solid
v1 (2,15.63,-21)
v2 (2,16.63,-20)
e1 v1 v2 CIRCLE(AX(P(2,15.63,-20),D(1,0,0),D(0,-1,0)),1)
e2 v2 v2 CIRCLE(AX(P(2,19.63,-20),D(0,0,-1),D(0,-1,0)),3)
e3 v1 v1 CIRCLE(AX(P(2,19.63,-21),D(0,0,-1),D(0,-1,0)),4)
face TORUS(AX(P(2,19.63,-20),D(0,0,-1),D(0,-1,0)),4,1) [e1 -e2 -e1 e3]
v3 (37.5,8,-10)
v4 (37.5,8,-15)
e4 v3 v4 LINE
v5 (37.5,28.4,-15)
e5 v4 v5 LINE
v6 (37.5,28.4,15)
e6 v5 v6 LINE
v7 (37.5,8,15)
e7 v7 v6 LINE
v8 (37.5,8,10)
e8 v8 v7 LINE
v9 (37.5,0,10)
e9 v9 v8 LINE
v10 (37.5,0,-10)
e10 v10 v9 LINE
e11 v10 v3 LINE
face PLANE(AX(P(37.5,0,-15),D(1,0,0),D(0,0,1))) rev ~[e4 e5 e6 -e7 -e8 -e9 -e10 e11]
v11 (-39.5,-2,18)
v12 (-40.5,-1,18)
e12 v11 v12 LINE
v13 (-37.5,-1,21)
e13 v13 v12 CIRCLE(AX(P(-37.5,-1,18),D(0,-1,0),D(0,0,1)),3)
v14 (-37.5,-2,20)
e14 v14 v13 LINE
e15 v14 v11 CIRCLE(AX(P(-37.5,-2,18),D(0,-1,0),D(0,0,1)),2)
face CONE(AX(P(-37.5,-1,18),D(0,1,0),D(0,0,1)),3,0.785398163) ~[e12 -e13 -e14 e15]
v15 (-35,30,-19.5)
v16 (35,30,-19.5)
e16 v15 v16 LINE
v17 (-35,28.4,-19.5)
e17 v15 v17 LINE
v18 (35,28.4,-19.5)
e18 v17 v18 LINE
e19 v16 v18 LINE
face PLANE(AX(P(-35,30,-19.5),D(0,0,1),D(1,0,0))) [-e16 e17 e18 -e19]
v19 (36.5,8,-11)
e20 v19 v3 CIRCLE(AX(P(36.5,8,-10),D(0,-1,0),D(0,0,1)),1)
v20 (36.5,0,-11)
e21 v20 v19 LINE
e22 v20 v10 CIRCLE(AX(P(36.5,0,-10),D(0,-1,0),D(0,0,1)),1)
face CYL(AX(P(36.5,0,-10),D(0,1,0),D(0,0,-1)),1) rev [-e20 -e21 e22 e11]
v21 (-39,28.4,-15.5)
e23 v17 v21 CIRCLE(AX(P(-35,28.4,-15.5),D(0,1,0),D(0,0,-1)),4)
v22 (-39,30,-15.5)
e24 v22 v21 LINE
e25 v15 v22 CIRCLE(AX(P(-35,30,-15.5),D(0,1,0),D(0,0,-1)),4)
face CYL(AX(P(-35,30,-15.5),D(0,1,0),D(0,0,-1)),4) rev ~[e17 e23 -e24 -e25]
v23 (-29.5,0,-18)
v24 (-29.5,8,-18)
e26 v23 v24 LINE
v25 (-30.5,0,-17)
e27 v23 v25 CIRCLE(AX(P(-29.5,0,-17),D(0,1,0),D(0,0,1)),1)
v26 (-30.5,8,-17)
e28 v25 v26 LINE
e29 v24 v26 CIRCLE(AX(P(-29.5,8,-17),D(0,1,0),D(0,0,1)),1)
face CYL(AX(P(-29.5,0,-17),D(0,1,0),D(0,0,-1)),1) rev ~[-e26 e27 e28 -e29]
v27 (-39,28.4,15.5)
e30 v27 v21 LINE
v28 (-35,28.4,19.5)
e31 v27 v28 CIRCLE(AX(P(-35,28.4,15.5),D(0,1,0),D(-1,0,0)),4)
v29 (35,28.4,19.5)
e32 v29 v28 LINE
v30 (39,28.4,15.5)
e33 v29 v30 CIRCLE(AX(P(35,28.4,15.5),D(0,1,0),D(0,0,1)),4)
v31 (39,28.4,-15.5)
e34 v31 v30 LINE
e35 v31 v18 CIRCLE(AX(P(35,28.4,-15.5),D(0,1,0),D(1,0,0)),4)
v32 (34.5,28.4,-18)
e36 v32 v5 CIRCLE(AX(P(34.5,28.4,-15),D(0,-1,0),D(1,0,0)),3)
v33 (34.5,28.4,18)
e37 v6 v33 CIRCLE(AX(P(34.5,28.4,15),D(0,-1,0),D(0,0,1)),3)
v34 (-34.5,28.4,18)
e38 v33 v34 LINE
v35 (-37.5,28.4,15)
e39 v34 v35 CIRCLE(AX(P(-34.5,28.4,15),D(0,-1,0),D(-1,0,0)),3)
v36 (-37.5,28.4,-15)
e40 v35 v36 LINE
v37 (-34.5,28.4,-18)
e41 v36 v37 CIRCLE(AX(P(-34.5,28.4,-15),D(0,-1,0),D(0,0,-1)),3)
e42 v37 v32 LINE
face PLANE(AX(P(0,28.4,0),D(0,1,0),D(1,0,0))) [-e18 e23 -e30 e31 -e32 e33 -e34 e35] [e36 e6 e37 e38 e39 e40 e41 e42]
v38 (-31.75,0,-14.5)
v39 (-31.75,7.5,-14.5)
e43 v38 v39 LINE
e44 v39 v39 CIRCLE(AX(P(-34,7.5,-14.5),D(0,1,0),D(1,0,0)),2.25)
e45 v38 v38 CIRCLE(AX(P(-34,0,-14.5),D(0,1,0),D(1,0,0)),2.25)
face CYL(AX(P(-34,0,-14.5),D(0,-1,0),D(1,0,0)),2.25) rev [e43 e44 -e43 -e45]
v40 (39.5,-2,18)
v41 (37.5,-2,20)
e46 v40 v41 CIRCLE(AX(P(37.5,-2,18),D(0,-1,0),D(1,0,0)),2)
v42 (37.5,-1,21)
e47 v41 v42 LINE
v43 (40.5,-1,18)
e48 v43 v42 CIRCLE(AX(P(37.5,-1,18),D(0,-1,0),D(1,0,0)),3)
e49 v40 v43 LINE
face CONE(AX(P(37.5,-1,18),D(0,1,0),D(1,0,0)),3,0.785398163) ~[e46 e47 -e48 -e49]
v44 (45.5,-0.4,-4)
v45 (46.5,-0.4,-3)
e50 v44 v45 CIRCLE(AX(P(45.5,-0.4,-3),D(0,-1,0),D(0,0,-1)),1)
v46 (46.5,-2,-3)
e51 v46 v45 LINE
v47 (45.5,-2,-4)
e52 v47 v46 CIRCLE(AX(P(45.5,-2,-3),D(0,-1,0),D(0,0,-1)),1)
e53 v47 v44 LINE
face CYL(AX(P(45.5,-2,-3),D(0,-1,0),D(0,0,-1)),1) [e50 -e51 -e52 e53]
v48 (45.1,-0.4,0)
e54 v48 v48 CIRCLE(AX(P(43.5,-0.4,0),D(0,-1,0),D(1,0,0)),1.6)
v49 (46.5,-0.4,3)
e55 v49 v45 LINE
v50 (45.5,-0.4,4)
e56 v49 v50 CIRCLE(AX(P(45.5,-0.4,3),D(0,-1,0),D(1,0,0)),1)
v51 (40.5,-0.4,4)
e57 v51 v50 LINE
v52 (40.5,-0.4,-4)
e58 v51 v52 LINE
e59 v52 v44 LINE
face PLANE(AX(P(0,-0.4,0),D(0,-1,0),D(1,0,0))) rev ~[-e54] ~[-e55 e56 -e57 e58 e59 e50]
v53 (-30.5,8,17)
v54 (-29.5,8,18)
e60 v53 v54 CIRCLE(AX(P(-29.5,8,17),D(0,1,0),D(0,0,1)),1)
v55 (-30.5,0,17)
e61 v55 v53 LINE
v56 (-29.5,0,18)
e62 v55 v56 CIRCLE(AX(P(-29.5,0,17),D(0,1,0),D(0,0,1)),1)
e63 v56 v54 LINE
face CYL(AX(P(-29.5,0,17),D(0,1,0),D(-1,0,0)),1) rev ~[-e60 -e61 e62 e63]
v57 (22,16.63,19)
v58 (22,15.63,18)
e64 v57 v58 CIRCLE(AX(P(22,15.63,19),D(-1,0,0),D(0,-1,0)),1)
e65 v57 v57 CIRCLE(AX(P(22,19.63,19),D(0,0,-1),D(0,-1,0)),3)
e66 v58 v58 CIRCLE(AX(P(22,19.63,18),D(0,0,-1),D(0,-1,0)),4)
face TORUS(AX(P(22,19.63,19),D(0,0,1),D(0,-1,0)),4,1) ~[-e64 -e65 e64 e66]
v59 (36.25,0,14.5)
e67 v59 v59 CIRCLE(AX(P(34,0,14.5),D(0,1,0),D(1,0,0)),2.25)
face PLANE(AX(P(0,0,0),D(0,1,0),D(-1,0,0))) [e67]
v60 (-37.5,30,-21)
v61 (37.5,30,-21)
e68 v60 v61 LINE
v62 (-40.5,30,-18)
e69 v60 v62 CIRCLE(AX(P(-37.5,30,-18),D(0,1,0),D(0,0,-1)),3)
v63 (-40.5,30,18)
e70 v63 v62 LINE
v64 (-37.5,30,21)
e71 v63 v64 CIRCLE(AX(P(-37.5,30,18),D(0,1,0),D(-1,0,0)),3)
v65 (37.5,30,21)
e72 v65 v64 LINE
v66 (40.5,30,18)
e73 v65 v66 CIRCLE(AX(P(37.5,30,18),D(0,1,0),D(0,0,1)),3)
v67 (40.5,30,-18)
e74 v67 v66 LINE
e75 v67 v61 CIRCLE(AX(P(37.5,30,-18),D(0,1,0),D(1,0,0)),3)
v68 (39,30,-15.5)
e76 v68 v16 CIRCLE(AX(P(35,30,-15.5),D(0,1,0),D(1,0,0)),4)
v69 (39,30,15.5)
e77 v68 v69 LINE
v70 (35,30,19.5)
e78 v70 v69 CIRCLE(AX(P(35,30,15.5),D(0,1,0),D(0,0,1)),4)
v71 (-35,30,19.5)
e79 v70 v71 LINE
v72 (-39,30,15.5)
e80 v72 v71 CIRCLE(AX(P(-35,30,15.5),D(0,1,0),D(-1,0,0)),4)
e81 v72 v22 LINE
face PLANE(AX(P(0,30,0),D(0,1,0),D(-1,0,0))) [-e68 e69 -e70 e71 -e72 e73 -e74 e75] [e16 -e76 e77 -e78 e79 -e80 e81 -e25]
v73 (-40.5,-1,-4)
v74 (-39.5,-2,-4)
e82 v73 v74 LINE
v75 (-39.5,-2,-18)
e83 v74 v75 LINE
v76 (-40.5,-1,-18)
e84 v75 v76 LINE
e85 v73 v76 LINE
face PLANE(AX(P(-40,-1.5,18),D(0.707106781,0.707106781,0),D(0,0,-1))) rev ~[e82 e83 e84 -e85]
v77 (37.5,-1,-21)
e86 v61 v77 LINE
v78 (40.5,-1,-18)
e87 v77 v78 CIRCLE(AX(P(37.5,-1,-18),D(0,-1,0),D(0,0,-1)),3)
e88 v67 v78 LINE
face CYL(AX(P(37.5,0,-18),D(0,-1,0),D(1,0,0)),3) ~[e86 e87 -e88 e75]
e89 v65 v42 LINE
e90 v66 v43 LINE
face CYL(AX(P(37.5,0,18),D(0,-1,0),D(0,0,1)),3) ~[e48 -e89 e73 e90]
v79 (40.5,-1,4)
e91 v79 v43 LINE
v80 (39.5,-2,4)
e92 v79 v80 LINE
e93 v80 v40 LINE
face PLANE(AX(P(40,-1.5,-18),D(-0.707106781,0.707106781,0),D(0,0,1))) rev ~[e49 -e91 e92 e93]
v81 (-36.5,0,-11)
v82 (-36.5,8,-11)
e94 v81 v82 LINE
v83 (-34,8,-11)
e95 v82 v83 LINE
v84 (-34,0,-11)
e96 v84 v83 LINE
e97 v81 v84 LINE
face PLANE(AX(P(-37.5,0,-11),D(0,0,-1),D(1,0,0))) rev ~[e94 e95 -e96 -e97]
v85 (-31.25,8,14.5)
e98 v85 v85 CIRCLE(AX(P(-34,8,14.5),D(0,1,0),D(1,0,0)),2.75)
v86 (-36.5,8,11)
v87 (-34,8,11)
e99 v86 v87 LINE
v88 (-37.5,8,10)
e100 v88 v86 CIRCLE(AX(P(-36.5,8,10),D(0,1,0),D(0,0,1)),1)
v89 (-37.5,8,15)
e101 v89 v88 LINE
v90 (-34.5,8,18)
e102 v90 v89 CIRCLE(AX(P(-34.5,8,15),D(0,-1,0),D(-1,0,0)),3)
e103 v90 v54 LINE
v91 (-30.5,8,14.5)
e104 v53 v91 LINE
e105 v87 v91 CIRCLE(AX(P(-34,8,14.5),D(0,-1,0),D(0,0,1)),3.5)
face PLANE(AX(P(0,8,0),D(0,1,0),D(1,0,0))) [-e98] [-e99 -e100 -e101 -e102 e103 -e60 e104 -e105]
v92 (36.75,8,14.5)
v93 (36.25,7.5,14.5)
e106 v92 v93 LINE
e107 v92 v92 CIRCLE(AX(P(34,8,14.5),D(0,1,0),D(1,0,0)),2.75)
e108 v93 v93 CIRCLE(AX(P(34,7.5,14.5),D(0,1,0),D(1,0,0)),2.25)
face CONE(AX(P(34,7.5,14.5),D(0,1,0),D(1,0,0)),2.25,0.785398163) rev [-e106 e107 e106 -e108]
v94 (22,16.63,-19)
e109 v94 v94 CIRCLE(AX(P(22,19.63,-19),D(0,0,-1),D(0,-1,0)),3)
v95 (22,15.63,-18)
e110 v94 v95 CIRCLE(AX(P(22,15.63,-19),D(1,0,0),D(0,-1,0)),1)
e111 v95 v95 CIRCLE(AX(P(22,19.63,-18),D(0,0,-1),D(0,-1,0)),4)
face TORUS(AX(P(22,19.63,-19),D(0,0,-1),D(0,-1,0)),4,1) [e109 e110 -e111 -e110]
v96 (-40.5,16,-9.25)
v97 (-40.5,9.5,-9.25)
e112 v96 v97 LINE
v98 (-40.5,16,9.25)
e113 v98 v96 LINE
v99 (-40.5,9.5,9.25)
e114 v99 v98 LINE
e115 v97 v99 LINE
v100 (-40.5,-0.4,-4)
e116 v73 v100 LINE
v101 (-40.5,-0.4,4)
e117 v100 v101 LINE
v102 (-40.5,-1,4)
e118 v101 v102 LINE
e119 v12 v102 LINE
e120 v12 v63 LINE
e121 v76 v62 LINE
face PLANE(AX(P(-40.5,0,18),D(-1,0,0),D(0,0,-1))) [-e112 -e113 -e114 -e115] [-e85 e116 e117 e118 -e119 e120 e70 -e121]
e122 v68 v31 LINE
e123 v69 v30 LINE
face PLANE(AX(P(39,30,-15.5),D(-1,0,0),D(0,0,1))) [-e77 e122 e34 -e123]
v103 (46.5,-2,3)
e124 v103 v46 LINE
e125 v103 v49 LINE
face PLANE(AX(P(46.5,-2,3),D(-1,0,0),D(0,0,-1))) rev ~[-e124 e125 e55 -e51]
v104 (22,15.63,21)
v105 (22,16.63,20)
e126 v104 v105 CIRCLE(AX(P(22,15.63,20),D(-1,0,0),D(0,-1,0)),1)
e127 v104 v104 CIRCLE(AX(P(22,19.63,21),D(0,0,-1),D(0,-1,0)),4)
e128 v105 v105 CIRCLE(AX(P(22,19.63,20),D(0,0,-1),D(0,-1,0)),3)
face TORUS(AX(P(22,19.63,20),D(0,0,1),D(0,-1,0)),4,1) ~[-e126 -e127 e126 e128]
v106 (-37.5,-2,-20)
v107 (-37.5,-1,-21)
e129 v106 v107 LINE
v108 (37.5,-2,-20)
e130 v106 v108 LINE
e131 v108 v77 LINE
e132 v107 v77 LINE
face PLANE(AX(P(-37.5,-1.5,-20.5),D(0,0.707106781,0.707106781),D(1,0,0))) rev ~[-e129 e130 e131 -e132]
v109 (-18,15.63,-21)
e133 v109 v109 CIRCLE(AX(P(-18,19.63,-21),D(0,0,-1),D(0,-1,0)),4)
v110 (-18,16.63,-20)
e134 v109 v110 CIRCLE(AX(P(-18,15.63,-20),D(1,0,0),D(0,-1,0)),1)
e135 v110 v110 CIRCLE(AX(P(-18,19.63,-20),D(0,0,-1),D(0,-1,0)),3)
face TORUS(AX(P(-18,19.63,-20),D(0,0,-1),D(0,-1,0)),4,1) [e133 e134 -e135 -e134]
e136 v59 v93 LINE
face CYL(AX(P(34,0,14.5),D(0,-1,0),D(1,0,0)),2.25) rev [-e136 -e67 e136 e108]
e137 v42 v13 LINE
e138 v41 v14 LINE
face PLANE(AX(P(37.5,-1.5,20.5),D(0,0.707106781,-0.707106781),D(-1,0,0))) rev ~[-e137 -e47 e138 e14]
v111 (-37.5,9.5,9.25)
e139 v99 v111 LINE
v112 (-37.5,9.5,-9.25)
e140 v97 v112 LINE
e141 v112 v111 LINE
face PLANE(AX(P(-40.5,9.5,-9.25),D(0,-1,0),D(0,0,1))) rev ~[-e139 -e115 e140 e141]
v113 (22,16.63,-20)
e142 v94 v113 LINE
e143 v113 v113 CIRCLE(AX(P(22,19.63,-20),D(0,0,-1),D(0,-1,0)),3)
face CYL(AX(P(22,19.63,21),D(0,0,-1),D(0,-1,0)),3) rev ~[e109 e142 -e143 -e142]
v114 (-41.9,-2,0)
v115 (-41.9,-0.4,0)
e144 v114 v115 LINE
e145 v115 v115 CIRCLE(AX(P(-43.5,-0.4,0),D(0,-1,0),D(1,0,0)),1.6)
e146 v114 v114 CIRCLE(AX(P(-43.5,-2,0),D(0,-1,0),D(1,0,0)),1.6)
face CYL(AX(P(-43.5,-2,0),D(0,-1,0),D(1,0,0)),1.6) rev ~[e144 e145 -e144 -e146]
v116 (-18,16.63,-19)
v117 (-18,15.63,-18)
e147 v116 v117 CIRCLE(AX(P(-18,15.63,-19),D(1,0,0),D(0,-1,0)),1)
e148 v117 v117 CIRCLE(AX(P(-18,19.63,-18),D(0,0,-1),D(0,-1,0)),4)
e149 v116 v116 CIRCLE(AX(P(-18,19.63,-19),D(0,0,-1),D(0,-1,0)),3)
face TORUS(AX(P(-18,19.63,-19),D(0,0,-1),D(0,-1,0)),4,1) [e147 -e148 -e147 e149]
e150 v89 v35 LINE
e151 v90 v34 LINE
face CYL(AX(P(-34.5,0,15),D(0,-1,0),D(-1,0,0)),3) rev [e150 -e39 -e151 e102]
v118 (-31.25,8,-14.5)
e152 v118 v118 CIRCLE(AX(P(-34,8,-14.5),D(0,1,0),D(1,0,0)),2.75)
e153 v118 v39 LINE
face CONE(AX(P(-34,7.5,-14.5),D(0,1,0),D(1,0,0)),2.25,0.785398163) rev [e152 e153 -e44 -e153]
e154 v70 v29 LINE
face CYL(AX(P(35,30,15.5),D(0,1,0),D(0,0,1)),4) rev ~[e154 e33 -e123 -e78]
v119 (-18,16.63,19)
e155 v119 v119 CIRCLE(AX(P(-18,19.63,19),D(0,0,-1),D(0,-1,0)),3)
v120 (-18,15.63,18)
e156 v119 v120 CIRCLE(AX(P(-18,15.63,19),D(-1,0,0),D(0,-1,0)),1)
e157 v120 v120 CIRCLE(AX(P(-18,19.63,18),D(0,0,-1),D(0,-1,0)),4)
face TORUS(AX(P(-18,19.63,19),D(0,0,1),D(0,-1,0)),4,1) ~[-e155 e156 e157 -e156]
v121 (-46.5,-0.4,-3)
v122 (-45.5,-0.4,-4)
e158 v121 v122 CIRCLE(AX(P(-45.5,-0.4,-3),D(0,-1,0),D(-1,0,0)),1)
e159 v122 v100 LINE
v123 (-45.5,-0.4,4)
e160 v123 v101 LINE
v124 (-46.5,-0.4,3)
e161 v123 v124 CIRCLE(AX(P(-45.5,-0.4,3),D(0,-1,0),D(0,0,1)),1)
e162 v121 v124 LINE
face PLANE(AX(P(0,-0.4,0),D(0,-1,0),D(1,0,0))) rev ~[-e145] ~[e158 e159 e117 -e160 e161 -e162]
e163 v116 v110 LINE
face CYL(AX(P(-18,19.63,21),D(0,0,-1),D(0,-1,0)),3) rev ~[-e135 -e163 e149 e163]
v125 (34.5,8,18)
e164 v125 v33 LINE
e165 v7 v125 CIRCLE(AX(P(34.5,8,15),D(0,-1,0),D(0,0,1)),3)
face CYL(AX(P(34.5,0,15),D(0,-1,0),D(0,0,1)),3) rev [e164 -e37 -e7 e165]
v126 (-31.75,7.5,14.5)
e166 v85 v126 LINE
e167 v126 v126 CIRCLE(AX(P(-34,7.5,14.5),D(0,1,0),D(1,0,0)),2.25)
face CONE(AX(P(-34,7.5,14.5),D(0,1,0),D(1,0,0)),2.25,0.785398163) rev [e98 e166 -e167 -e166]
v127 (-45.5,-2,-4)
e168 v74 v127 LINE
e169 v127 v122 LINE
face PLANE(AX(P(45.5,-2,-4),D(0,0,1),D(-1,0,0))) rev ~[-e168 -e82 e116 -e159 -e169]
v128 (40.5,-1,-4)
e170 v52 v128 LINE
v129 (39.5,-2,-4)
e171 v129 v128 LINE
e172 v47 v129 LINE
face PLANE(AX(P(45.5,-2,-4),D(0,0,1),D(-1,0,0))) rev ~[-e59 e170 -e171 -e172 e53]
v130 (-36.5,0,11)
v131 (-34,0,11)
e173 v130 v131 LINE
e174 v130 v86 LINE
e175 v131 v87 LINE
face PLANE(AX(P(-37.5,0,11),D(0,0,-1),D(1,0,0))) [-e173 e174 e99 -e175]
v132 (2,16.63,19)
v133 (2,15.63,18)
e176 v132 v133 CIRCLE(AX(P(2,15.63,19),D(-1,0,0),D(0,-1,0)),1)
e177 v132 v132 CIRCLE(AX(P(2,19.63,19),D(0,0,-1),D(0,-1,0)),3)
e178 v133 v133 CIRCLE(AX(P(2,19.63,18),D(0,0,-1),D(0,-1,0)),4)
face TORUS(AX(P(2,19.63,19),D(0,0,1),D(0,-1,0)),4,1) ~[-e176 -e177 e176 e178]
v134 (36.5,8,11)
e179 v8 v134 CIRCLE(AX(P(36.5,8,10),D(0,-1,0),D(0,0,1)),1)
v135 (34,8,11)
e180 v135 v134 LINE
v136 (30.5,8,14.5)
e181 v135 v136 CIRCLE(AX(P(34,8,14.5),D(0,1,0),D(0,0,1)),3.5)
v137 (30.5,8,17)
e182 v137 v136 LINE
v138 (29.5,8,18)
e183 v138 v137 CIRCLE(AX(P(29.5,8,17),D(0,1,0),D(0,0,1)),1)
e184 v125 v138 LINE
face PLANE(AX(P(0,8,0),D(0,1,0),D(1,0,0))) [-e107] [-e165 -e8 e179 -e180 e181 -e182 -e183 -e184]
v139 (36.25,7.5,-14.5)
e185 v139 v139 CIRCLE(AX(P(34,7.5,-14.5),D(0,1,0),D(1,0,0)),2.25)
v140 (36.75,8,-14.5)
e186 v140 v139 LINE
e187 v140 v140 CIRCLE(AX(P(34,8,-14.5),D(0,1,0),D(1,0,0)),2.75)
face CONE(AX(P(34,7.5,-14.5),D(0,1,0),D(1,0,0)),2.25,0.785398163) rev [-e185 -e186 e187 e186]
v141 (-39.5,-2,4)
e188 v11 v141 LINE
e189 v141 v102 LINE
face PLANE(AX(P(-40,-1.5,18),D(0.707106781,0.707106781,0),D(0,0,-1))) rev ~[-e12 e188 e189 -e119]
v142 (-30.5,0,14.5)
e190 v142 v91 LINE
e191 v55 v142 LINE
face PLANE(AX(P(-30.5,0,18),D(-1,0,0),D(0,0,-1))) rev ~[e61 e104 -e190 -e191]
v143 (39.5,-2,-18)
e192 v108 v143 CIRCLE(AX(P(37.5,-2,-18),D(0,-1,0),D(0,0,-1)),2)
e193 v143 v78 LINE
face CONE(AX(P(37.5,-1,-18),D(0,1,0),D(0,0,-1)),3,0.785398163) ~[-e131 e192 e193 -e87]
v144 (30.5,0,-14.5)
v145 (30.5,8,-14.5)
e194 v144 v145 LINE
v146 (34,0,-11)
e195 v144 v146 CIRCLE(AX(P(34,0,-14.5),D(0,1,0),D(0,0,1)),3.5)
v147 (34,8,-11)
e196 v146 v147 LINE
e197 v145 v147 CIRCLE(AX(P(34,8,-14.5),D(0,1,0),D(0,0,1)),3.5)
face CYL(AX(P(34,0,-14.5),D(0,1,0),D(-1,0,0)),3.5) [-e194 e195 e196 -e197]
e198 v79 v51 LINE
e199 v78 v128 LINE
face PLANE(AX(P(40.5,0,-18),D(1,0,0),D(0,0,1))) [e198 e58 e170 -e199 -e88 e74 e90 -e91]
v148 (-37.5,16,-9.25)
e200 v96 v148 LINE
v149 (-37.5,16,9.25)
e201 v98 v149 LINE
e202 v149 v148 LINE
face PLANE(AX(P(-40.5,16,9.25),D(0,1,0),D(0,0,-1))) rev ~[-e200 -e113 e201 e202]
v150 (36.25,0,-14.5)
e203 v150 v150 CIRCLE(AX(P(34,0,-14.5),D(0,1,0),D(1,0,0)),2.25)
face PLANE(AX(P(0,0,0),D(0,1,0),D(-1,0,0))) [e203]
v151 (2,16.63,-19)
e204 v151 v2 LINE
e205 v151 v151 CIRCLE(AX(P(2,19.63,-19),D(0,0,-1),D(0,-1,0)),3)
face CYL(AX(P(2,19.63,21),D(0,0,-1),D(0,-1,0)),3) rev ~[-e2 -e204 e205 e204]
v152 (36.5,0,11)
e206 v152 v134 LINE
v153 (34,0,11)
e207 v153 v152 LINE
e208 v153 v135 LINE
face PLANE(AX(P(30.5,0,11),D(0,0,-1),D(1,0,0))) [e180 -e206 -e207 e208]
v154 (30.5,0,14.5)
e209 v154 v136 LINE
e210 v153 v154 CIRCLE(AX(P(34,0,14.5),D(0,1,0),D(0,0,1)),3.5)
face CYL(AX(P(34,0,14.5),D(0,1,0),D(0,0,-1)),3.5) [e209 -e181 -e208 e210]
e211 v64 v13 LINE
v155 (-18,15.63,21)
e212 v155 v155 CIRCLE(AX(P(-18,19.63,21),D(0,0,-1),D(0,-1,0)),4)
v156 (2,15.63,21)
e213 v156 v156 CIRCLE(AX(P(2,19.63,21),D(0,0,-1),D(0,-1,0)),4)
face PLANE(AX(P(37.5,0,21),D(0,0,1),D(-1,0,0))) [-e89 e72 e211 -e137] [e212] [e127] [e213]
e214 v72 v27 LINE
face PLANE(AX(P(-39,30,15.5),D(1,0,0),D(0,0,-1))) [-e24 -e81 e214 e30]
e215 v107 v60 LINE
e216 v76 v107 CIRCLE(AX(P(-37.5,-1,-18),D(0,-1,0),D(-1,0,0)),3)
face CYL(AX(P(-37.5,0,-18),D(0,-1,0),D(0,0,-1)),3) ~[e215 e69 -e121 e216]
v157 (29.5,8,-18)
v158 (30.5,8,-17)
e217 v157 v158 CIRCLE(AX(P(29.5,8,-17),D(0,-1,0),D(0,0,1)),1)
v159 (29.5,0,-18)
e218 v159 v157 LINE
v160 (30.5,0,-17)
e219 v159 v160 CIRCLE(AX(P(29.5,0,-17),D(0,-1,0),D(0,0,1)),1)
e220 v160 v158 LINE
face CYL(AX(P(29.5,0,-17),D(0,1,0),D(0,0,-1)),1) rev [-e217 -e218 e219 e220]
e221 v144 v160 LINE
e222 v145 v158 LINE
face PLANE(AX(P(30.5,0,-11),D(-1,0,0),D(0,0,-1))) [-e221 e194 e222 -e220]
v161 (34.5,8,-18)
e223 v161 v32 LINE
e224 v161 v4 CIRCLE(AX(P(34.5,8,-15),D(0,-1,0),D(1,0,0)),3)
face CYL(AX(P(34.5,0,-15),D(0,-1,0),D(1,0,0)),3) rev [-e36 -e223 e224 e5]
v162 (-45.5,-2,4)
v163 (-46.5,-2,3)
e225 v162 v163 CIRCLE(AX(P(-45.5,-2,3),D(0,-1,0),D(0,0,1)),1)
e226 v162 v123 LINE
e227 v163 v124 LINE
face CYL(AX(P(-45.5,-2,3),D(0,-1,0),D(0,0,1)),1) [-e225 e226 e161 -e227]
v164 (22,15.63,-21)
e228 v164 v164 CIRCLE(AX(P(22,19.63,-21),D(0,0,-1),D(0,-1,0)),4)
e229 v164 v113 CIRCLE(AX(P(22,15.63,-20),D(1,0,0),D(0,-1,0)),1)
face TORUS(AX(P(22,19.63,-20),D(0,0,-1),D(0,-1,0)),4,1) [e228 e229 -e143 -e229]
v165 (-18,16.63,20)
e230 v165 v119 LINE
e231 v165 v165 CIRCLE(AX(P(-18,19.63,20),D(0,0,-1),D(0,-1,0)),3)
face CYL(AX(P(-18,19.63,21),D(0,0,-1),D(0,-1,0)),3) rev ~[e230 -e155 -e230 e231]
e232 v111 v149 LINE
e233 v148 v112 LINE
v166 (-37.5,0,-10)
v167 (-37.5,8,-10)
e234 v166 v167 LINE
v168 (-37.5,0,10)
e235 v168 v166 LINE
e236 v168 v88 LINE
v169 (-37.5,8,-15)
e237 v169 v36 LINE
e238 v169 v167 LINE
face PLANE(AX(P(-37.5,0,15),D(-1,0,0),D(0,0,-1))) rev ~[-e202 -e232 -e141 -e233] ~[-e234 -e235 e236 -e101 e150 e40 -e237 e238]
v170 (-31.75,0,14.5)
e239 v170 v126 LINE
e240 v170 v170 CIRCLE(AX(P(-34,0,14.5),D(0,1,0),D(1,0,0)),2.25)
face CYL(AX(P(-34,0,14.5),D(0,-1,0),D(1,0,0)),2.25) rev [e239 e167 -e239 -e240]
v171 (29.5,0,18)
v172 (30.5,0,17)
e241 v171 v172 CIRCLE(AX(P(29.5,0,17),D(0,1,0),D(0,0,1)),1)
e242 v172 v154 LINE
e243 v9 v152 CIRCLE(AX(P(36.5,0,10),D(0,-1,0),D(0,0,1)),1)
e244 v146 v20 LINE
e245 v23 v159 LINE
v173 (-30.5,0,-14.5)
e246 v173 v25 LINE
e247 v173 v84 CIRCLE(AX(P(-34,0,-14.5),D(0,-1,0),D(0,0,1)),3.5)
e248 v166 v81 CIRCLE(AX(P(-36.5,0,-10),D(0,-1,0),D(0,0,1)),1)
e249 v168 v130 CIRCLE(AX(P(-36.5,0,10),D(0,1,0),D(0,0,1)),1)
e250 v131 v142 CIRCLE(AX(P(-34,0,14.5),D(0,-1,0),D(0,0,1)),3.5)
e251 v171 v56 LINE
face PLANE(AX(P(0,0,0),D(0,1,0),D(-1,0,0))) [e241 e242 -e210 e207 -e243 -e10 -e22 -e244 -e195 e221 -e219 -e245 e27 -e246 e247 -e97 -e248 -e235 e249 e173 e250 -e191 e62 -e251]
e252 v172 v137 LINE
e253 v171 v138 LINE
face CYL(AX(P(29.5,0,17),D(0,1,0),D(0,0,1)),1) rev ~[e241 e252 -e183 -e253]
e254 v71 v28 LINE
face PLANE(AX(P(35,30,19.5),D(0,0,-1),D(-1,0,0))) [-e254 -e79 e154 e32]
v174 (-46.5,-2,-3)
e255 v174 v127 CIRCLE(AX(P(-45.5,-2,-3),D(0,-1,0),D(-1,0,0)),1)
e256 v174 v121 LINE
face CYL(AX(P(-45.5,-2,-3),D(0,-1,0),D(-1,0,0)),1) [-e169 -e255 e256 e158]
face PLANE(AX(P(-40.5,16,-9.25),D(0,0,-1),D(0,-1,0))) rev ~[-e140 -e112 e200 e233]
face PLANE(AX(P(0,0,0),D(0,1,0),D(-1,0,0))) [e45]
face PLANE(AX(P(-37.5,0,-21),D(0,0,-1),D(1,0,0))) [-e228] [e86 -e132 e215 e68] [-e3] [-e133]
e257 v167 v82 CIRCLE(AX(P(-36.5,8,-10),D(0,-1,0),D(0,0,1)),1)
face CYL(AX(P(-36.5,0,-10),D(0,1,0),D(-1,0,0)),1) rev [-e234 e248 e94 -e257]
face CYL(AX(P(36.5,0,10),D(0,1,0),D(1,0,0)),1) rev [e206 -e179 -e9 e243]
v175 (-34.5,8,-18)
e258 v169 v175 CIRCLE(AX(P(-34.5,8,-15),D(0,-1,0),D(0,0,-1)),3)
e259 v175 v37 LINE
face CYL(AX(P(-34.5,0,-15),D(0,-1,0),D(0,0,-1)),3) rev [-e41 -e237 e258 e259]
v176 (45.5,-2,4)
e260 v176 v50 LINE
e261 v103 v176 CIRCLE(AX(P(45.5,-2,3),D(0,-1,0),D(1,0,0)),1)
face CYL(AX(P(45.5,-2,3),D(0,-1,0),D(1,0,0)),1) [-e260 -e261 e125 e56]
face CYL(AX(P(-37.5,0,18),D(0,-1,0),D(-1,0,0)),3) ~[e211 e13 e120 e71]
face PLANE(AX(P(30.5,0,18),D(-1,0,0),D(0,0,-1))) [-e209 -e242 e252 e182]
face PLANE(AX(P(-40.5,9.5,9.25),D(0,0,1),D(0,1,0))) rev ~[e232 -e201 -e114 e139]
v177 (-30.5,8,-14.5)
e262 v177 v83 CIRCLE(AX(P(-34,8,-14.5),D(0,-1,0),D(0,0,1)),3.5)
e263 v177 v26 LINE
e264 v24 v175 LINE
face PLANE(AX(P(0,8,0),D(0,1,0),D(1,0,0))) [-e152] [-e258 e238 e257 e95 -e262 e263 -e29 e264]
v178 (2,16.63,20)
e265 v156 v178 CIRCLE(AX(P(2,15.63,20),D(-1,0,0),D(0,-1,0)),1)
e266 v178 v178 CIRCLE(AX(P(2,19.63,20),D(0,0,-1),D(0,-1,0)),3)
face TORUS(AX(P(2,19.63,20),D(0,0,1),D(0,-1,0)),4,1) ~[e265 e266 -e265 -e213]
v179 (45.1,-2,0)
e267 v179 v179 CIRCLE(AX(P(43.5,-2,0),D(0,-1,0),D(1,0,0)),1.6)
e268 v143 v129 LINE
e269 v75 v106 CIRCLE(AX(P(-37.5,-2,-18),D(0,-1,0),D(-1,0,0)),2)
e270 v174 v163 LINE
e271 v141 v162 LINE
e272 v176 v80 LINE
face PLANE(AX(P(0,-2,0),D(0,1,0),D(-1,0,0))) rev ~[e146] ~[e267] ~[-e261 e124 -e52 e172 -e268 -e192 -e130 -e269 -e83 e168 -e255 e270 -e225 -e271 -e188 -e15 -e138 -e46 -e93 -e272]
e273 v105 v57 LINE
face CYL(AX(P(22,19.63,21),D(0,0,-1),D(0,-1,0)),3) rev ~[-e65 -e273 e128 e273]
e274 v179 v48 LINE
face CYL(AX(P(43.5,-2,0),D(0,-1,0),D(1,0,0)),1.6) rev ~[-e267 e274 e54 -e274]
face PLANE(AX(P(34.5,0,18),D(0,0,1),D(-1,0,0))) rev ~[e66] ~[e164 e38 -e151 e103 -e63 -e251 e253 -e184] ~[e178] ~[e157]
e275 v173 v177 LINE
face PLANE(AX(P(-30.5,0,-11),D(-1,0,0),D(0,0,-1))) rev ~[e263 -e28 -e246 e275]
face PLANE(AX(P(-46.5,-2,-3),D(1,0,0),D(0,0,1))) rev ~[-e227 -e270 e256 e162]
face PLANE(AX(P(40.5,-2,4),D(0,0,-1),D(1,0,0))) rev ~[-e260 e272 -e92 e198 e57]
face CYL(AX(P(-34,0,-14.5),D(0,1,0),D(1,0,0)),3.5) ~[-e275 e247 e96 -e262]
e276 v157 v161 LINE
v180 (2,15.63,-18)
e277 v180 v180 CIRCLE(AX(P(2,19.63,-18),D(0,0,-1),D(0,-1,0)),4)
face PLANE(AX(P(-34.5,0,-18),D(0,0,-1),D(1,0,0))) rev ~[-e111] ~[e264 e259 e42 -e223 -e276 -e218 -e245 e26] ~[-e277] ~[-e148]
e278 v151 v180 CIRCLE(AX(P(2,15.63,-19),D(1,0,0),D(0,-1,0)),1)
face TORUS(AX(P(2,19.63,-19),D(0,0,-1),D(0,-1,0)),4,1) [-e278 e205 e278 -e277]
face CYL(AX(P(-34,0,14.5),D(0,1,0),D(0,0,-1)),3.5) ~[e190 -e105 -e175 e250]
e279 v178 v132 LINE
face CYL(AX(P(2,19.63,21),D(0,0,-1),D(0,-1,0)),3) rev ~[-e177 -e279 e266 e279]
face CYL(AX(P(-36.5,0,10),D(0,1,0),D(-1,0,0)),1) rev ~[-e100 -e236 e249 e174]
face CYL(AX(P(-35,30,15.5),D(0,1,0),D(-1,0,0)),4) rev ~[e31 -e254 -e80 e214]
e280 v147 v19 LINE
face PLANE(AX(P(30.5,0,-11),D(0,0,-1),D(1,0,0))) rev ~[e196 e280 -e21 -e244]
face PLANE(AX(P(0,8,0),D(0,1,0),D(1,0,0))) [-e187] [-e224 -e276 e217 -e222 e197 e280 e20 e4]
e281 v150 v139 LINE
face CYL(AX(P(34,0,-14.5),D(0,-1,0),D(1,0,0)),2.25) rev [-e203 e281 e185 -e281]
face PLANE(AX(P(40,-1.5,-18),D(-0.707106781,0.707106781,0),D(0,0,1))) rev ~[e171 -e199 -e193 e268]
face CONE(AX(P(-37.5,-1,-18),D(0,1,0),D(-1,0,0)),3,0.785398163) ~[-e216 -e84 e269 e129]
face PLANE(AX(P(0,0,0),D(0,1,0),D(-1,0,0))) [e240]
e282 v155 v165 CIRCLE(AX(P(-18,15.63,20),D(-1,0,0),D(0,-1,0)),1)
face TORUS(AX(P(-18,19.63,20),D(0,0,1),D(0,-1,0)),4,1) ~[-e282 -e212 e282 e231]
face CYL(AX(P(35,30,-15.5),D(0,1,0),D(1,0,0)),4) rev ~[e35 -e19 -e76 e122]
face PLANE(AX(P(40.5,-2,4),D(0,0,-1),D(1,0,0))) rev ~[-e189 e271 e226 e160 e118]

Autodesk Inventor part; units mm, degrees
ref_plane "YZ Plane" through (0, 0, 0) normal (1, 0, 0) x (0, 1, 0)
ref_plane "XZ Plane" through (0, 0, 0) normal (0, 1, 0) x (-1, 0, 0)
ref_plane "XY Plane" through (0, 0, 0) normal (0, 0, 1) x (1, 0, 0)
sketch "Sketch1" plane through (0, 0, 0) normal (0, 1, 0) x (-1, 0, 0)
  line L0 (34.5, -18) -> (-34.5, -18)
  line L1 (-37.5, -15) -> (-37.5, 15)
  line L2 (-34.5, 18) -> (34.5, 18)
  line L3 (37.5, 15) -> (37.5, -15)
  line L4 (37.5, -21) -> (-37.5, -21)
  line L5 (-40.5, -18) -> (-40.5, 18)
  line L6 (-37.5, 21) -> (37.5, 21)
  line L7 (40.5, 18) -> (40.5, -18)
  arc A0 (37.5, -21) -> (40.5, -18) centre (37.5, -18) ccw
  arc A1 (34.5, -18) -> (37.5, -15) centre (34.5, -15) ccw
  arc A2 (40.5, 18) -> (37.5, 21) centre (37.5, 18) ccw
  arc A3 (37.5, 15) -> (34.5, 18) centre (34.5, 15) ccw
  arc A4 (-34.5, 18) -> (-37.5, 15) centre (-34.5, 15) ccw
  arc A5 (-37.5, 21) -> (-40.5, 18) centre (-37.5, 18) ccw
  arc A6 (-40.5, -18) -> (-37.5, -21) centre (-37.5, -18) ccw
  arc A7 (-37.5, -15) -> (-34.5, -18) centre (-34.5, -15) ccw
  point P0 (0, 0)
  point P1 (-37.5, -18)
  point P2 (37.5, 18)
  point P3 (37.5, 0)
  point P4 (40.5, 0)
  dimension "d0" = 75
  dimension "d1" = 36
  dimension "d2" = 3
  dimension "d3" = 3
  dimension "d4" = 3
  dimension "d5" = 3
  dimension "d6" = 3
  dimension "d23" = 18
  dimension "d24" = 37.5
extrude "Extrusion1" add sketch "Sketch1" along normal blind 30
extrude "Extrusion2" add sketch "Sketch1" against normal blind 2 contours L0 A7 L1 A4 L2 A3 L3 A1 | L4 A6 L5 A5 L6 A2 L7 A0
sketch "Sketch2" plane through (0, 0, 0) normal (0, 1, 0) x (1, 0, 0)
  circle A0 centre (-34, 14.5) radius 2.25
  line L0 (-37.5, -15) -> (-37.5, 15) projected
  line L1 (-34.5, 18) -> (34.5, 18) projected
  line L2 (-37.5, 18) -> (-30.5, 18)
  line L3 (-37.5, 11) -> (-37.5, 18)
  line L4 (-37.5, 11) -> (-30.5, 11)
  line L5 (-30.5, 11) -> (-30.5, 18)
  circle A1 centre (34, 14.5) radius 2.25
  line L6 (37.5, 11) -> (37.5, 18)
  line L7 (30.5, 11) -> (37.5, 11)
  line L8 (30.5, 11) -> (30.5, 18)
  line L9 (30.5, 18) -> (37.5, 18)
  circle A2 centre (-34, -14.5) radius 2.25
  line L10 (-30.5, -18) -> (-30.5, -11)
  line L11 (-37.5, -18) -> (-30.5, -18)
  line L12 (-37.5, -18) -> (-37.5, -11)
  line L13 (-37.5, -11) -> (-30.5, -11)
  circle A3 centre (34, -14.5) radius 2.25
  line L14 (37.5, -18) -> (37.5, -11)
  line L15 (30.5, -18) -> (37.5, -18)
  line L16 (30.5, -18) -> (30.5, -11)
  line L17 (30.5, -11) -> (37.5, -11)
  point P0 (0, 0)
  dimension "d11" = 4.5
  dimension "d12" = 3.5
  dimension "d13" = 3.5
  dimension "d14" = 7
  dimension "d15" = 7
  dimension "d27" = 68
  dimension "d30" = 29
extrude "Extrusion3" add sketch "Sketch2" along normal blind 8
chamfer "Chamfer1" distance 0.5 angle 45 4 edges at (-36.25, 8, -14.5) (31.75, 8, -14.5) (31.75, 8, 14.5) (-36.25, 8, 14.5)
fillet "Fillet2" radius 3.5 4 edges at (-30.5, 4, -11) (-30.5, 4, 11) (30.5, 4, -11) (30.5, 4, 11)
fillet "Fillet2" radius 1 8 edges at (37.5, 4, -11) (30.5, 4, -18) (-37.5, 4, -11) (-30.5, 4, -18) (-30.5, 4, 18) (-37.5, 4, 11) (30.5, 4, 18) (37.5, 4, 11)
sketch "Sketch3" plane through (-40.5, 30, -18) normal (-1, 0, 0) x (0, 0, 1)
  line L0 (8.75, -20.5) -> (27.25, -20.5)
  line L1 (27.25, -20.5) -> (27.25, -14)
  line L2 (27.25, -14) -> (8.75, -14)
  line L3 (8.75, -14) -> (8.75, -20.5)
  line L4 (-3, -32) -> (-3, 0) projected
  line L5 (8, -22) -> (3, -22) projected
  point P0 (18, -30)
  dimension "d35" = 18.5
  dimension "d36" = 6.5
  dimension "d37" = 11.75
  dimension "d38" = 1.5
extrude "Extrusion4" cut sketch "Sketch3" against normal blind 8
sketch "Sketch4" plane through (0, 30, 0) normal (0, 1, 0) x (1, 0, 0)
  line L0 (-35, 19.5) -> (35, 19.5)
  line L1 (39, 15.5) -> (39, -15.5)
  line L2 (35, -19.5) -> (-35, -19.5)
  line L3 (-39, -15.5) -> (-39, 15.5)
  line L4 (-34.5, 18) -> (34.5, 18) projected
  line L5 (-37.5, -15) -> (-37.5, 15) projected
  line L6 (34.5, -18) -> (-34.5, -18) projected
  line L7 (37.5, 15) -> (37.5, -15) projected
  arc A0 (39, 15.5) -> (35, 19.5) centre (35, 15.5) ccw
  arc A1 (35, -19.5) -> (39, -15.5) centre (35, -15.5) ccw
  arc A2 (-39, -15.5) -> (-35, -19.5) centre (-35, -15.5) ccw
  arc A3 (-35, 19.5) -> (-39, 15.5) centre (-35, 15.5) ccw
  point P0 (0, 0)
  point P1 (-39, 0)
  dimension "d41" = 1.5
  dimension "d42" = 1.5
  dimension "d43" = 1.5
  dimension "d44" = 1.5
  dimension "d45" = 4
extrude "Extrusion5" cut sketch "Sketch4" against normal blind 1.6
chamfer "Chamfer2" distance 1 angle 45 8 edges at (0, -2, 21) (-39.6213, -2, 20.1213) (-40.5, -2, 0) (-39.6213, -2, -20.1213) (0, -2, -21) (39.6213, -2, -20.1213) (40.5, -2, 0) (39.6213, -2, 20.1213)
sketch "Sketch6" plane through (-37.5, 30, 21) normal (0, 0, 1) x (1, 0, 0)
  line L0 (0, 0) -> (75, 0) projected
  line L1 (-3, -31) -> (-3, 0) projected
  point P0 (37.5, -30)
  point P1 (19.5, -10.37)
  dimension "d51" = 10.37
  dimension "d52" = 22.5
hole "Hole1" at (-18, 19.63, 21) direction (0, 0, -1) diameter 6 end through all
fillet "Fillet3" radius 1 4 edges at (-18, 22.63, 21) (-18, 22.63, -21) (-18, 22.63, -18) (-18, 22.63, 18)
pattern_linear "Rectangular Pattern1" count 3 spacing 20 along (1, 0, 0) of "Hole1", "Fillet3"
sketch "Sketch7" plane through (0, -2, 0) normal (0, -1, 0) x (1, 0, 0)
  line L0 (45.5, -4) -> (-45.5, -4)
  line L1 (-46.5, -3) -> (-46.5, 3)
  line L2 (-45.5, 4) -> (45.5, 4)
  line L3 (46.5, 3) -> (46.5, -3)
  line L4 (40.5, -18) -> (40.5, 18) projected
  line L5 (-40.5, 18) -> (-40.5, -18) projected
  circle A0 centre (43.5, 0) radius 1.6
  arc A1 (45.5, -4) -> (46.5, -3) centre (45.5, -3) ccw
  arc A2 (46.5, 3) -> (45.5, 4) centre (45.5, 3) ccw
  arc A3 (-46.5, -3) -> (-45.5, -4) centre (-45.5, -3) ccw
  arc A4 (-45.5, 4) -> (-46.5, 3) centre (-45.5, 3) ccw
  circle A5 centre (-43.5, 0) radius 1.6
  point P0 (0, 0)
  dimension "d64" = 6
  dimension "d65" = 6
  dimension "d66" = 8
  dimension "d67" = 4
  dimension "d68" = 3.2
  dimension "d69" = 3
  dimension "d70" = 1
  dimension "d71" = 3.2
  dimension "d72" = 3
extrude "Extrusion6" add sketch "Sketch7" against normal blind 1.6
equation "\"d3\" = d2"
equation "\"d4\" = d2"
equation "\"d5\" = d2"
equation "\"d13\" = d12"
equation "\"d42\" = d41"
equation "\"d43\" = d41"
equation "\"d44\" = d41"
equation "\"d65\" = d64"
equation "\"d67\" = 0.5 * d66"
equation "\"d69\" = 0.5 * d64"
equation "\"d71\" = d68"
equation "\"d72\" = d69"
properties part number "current_sensor_base"
